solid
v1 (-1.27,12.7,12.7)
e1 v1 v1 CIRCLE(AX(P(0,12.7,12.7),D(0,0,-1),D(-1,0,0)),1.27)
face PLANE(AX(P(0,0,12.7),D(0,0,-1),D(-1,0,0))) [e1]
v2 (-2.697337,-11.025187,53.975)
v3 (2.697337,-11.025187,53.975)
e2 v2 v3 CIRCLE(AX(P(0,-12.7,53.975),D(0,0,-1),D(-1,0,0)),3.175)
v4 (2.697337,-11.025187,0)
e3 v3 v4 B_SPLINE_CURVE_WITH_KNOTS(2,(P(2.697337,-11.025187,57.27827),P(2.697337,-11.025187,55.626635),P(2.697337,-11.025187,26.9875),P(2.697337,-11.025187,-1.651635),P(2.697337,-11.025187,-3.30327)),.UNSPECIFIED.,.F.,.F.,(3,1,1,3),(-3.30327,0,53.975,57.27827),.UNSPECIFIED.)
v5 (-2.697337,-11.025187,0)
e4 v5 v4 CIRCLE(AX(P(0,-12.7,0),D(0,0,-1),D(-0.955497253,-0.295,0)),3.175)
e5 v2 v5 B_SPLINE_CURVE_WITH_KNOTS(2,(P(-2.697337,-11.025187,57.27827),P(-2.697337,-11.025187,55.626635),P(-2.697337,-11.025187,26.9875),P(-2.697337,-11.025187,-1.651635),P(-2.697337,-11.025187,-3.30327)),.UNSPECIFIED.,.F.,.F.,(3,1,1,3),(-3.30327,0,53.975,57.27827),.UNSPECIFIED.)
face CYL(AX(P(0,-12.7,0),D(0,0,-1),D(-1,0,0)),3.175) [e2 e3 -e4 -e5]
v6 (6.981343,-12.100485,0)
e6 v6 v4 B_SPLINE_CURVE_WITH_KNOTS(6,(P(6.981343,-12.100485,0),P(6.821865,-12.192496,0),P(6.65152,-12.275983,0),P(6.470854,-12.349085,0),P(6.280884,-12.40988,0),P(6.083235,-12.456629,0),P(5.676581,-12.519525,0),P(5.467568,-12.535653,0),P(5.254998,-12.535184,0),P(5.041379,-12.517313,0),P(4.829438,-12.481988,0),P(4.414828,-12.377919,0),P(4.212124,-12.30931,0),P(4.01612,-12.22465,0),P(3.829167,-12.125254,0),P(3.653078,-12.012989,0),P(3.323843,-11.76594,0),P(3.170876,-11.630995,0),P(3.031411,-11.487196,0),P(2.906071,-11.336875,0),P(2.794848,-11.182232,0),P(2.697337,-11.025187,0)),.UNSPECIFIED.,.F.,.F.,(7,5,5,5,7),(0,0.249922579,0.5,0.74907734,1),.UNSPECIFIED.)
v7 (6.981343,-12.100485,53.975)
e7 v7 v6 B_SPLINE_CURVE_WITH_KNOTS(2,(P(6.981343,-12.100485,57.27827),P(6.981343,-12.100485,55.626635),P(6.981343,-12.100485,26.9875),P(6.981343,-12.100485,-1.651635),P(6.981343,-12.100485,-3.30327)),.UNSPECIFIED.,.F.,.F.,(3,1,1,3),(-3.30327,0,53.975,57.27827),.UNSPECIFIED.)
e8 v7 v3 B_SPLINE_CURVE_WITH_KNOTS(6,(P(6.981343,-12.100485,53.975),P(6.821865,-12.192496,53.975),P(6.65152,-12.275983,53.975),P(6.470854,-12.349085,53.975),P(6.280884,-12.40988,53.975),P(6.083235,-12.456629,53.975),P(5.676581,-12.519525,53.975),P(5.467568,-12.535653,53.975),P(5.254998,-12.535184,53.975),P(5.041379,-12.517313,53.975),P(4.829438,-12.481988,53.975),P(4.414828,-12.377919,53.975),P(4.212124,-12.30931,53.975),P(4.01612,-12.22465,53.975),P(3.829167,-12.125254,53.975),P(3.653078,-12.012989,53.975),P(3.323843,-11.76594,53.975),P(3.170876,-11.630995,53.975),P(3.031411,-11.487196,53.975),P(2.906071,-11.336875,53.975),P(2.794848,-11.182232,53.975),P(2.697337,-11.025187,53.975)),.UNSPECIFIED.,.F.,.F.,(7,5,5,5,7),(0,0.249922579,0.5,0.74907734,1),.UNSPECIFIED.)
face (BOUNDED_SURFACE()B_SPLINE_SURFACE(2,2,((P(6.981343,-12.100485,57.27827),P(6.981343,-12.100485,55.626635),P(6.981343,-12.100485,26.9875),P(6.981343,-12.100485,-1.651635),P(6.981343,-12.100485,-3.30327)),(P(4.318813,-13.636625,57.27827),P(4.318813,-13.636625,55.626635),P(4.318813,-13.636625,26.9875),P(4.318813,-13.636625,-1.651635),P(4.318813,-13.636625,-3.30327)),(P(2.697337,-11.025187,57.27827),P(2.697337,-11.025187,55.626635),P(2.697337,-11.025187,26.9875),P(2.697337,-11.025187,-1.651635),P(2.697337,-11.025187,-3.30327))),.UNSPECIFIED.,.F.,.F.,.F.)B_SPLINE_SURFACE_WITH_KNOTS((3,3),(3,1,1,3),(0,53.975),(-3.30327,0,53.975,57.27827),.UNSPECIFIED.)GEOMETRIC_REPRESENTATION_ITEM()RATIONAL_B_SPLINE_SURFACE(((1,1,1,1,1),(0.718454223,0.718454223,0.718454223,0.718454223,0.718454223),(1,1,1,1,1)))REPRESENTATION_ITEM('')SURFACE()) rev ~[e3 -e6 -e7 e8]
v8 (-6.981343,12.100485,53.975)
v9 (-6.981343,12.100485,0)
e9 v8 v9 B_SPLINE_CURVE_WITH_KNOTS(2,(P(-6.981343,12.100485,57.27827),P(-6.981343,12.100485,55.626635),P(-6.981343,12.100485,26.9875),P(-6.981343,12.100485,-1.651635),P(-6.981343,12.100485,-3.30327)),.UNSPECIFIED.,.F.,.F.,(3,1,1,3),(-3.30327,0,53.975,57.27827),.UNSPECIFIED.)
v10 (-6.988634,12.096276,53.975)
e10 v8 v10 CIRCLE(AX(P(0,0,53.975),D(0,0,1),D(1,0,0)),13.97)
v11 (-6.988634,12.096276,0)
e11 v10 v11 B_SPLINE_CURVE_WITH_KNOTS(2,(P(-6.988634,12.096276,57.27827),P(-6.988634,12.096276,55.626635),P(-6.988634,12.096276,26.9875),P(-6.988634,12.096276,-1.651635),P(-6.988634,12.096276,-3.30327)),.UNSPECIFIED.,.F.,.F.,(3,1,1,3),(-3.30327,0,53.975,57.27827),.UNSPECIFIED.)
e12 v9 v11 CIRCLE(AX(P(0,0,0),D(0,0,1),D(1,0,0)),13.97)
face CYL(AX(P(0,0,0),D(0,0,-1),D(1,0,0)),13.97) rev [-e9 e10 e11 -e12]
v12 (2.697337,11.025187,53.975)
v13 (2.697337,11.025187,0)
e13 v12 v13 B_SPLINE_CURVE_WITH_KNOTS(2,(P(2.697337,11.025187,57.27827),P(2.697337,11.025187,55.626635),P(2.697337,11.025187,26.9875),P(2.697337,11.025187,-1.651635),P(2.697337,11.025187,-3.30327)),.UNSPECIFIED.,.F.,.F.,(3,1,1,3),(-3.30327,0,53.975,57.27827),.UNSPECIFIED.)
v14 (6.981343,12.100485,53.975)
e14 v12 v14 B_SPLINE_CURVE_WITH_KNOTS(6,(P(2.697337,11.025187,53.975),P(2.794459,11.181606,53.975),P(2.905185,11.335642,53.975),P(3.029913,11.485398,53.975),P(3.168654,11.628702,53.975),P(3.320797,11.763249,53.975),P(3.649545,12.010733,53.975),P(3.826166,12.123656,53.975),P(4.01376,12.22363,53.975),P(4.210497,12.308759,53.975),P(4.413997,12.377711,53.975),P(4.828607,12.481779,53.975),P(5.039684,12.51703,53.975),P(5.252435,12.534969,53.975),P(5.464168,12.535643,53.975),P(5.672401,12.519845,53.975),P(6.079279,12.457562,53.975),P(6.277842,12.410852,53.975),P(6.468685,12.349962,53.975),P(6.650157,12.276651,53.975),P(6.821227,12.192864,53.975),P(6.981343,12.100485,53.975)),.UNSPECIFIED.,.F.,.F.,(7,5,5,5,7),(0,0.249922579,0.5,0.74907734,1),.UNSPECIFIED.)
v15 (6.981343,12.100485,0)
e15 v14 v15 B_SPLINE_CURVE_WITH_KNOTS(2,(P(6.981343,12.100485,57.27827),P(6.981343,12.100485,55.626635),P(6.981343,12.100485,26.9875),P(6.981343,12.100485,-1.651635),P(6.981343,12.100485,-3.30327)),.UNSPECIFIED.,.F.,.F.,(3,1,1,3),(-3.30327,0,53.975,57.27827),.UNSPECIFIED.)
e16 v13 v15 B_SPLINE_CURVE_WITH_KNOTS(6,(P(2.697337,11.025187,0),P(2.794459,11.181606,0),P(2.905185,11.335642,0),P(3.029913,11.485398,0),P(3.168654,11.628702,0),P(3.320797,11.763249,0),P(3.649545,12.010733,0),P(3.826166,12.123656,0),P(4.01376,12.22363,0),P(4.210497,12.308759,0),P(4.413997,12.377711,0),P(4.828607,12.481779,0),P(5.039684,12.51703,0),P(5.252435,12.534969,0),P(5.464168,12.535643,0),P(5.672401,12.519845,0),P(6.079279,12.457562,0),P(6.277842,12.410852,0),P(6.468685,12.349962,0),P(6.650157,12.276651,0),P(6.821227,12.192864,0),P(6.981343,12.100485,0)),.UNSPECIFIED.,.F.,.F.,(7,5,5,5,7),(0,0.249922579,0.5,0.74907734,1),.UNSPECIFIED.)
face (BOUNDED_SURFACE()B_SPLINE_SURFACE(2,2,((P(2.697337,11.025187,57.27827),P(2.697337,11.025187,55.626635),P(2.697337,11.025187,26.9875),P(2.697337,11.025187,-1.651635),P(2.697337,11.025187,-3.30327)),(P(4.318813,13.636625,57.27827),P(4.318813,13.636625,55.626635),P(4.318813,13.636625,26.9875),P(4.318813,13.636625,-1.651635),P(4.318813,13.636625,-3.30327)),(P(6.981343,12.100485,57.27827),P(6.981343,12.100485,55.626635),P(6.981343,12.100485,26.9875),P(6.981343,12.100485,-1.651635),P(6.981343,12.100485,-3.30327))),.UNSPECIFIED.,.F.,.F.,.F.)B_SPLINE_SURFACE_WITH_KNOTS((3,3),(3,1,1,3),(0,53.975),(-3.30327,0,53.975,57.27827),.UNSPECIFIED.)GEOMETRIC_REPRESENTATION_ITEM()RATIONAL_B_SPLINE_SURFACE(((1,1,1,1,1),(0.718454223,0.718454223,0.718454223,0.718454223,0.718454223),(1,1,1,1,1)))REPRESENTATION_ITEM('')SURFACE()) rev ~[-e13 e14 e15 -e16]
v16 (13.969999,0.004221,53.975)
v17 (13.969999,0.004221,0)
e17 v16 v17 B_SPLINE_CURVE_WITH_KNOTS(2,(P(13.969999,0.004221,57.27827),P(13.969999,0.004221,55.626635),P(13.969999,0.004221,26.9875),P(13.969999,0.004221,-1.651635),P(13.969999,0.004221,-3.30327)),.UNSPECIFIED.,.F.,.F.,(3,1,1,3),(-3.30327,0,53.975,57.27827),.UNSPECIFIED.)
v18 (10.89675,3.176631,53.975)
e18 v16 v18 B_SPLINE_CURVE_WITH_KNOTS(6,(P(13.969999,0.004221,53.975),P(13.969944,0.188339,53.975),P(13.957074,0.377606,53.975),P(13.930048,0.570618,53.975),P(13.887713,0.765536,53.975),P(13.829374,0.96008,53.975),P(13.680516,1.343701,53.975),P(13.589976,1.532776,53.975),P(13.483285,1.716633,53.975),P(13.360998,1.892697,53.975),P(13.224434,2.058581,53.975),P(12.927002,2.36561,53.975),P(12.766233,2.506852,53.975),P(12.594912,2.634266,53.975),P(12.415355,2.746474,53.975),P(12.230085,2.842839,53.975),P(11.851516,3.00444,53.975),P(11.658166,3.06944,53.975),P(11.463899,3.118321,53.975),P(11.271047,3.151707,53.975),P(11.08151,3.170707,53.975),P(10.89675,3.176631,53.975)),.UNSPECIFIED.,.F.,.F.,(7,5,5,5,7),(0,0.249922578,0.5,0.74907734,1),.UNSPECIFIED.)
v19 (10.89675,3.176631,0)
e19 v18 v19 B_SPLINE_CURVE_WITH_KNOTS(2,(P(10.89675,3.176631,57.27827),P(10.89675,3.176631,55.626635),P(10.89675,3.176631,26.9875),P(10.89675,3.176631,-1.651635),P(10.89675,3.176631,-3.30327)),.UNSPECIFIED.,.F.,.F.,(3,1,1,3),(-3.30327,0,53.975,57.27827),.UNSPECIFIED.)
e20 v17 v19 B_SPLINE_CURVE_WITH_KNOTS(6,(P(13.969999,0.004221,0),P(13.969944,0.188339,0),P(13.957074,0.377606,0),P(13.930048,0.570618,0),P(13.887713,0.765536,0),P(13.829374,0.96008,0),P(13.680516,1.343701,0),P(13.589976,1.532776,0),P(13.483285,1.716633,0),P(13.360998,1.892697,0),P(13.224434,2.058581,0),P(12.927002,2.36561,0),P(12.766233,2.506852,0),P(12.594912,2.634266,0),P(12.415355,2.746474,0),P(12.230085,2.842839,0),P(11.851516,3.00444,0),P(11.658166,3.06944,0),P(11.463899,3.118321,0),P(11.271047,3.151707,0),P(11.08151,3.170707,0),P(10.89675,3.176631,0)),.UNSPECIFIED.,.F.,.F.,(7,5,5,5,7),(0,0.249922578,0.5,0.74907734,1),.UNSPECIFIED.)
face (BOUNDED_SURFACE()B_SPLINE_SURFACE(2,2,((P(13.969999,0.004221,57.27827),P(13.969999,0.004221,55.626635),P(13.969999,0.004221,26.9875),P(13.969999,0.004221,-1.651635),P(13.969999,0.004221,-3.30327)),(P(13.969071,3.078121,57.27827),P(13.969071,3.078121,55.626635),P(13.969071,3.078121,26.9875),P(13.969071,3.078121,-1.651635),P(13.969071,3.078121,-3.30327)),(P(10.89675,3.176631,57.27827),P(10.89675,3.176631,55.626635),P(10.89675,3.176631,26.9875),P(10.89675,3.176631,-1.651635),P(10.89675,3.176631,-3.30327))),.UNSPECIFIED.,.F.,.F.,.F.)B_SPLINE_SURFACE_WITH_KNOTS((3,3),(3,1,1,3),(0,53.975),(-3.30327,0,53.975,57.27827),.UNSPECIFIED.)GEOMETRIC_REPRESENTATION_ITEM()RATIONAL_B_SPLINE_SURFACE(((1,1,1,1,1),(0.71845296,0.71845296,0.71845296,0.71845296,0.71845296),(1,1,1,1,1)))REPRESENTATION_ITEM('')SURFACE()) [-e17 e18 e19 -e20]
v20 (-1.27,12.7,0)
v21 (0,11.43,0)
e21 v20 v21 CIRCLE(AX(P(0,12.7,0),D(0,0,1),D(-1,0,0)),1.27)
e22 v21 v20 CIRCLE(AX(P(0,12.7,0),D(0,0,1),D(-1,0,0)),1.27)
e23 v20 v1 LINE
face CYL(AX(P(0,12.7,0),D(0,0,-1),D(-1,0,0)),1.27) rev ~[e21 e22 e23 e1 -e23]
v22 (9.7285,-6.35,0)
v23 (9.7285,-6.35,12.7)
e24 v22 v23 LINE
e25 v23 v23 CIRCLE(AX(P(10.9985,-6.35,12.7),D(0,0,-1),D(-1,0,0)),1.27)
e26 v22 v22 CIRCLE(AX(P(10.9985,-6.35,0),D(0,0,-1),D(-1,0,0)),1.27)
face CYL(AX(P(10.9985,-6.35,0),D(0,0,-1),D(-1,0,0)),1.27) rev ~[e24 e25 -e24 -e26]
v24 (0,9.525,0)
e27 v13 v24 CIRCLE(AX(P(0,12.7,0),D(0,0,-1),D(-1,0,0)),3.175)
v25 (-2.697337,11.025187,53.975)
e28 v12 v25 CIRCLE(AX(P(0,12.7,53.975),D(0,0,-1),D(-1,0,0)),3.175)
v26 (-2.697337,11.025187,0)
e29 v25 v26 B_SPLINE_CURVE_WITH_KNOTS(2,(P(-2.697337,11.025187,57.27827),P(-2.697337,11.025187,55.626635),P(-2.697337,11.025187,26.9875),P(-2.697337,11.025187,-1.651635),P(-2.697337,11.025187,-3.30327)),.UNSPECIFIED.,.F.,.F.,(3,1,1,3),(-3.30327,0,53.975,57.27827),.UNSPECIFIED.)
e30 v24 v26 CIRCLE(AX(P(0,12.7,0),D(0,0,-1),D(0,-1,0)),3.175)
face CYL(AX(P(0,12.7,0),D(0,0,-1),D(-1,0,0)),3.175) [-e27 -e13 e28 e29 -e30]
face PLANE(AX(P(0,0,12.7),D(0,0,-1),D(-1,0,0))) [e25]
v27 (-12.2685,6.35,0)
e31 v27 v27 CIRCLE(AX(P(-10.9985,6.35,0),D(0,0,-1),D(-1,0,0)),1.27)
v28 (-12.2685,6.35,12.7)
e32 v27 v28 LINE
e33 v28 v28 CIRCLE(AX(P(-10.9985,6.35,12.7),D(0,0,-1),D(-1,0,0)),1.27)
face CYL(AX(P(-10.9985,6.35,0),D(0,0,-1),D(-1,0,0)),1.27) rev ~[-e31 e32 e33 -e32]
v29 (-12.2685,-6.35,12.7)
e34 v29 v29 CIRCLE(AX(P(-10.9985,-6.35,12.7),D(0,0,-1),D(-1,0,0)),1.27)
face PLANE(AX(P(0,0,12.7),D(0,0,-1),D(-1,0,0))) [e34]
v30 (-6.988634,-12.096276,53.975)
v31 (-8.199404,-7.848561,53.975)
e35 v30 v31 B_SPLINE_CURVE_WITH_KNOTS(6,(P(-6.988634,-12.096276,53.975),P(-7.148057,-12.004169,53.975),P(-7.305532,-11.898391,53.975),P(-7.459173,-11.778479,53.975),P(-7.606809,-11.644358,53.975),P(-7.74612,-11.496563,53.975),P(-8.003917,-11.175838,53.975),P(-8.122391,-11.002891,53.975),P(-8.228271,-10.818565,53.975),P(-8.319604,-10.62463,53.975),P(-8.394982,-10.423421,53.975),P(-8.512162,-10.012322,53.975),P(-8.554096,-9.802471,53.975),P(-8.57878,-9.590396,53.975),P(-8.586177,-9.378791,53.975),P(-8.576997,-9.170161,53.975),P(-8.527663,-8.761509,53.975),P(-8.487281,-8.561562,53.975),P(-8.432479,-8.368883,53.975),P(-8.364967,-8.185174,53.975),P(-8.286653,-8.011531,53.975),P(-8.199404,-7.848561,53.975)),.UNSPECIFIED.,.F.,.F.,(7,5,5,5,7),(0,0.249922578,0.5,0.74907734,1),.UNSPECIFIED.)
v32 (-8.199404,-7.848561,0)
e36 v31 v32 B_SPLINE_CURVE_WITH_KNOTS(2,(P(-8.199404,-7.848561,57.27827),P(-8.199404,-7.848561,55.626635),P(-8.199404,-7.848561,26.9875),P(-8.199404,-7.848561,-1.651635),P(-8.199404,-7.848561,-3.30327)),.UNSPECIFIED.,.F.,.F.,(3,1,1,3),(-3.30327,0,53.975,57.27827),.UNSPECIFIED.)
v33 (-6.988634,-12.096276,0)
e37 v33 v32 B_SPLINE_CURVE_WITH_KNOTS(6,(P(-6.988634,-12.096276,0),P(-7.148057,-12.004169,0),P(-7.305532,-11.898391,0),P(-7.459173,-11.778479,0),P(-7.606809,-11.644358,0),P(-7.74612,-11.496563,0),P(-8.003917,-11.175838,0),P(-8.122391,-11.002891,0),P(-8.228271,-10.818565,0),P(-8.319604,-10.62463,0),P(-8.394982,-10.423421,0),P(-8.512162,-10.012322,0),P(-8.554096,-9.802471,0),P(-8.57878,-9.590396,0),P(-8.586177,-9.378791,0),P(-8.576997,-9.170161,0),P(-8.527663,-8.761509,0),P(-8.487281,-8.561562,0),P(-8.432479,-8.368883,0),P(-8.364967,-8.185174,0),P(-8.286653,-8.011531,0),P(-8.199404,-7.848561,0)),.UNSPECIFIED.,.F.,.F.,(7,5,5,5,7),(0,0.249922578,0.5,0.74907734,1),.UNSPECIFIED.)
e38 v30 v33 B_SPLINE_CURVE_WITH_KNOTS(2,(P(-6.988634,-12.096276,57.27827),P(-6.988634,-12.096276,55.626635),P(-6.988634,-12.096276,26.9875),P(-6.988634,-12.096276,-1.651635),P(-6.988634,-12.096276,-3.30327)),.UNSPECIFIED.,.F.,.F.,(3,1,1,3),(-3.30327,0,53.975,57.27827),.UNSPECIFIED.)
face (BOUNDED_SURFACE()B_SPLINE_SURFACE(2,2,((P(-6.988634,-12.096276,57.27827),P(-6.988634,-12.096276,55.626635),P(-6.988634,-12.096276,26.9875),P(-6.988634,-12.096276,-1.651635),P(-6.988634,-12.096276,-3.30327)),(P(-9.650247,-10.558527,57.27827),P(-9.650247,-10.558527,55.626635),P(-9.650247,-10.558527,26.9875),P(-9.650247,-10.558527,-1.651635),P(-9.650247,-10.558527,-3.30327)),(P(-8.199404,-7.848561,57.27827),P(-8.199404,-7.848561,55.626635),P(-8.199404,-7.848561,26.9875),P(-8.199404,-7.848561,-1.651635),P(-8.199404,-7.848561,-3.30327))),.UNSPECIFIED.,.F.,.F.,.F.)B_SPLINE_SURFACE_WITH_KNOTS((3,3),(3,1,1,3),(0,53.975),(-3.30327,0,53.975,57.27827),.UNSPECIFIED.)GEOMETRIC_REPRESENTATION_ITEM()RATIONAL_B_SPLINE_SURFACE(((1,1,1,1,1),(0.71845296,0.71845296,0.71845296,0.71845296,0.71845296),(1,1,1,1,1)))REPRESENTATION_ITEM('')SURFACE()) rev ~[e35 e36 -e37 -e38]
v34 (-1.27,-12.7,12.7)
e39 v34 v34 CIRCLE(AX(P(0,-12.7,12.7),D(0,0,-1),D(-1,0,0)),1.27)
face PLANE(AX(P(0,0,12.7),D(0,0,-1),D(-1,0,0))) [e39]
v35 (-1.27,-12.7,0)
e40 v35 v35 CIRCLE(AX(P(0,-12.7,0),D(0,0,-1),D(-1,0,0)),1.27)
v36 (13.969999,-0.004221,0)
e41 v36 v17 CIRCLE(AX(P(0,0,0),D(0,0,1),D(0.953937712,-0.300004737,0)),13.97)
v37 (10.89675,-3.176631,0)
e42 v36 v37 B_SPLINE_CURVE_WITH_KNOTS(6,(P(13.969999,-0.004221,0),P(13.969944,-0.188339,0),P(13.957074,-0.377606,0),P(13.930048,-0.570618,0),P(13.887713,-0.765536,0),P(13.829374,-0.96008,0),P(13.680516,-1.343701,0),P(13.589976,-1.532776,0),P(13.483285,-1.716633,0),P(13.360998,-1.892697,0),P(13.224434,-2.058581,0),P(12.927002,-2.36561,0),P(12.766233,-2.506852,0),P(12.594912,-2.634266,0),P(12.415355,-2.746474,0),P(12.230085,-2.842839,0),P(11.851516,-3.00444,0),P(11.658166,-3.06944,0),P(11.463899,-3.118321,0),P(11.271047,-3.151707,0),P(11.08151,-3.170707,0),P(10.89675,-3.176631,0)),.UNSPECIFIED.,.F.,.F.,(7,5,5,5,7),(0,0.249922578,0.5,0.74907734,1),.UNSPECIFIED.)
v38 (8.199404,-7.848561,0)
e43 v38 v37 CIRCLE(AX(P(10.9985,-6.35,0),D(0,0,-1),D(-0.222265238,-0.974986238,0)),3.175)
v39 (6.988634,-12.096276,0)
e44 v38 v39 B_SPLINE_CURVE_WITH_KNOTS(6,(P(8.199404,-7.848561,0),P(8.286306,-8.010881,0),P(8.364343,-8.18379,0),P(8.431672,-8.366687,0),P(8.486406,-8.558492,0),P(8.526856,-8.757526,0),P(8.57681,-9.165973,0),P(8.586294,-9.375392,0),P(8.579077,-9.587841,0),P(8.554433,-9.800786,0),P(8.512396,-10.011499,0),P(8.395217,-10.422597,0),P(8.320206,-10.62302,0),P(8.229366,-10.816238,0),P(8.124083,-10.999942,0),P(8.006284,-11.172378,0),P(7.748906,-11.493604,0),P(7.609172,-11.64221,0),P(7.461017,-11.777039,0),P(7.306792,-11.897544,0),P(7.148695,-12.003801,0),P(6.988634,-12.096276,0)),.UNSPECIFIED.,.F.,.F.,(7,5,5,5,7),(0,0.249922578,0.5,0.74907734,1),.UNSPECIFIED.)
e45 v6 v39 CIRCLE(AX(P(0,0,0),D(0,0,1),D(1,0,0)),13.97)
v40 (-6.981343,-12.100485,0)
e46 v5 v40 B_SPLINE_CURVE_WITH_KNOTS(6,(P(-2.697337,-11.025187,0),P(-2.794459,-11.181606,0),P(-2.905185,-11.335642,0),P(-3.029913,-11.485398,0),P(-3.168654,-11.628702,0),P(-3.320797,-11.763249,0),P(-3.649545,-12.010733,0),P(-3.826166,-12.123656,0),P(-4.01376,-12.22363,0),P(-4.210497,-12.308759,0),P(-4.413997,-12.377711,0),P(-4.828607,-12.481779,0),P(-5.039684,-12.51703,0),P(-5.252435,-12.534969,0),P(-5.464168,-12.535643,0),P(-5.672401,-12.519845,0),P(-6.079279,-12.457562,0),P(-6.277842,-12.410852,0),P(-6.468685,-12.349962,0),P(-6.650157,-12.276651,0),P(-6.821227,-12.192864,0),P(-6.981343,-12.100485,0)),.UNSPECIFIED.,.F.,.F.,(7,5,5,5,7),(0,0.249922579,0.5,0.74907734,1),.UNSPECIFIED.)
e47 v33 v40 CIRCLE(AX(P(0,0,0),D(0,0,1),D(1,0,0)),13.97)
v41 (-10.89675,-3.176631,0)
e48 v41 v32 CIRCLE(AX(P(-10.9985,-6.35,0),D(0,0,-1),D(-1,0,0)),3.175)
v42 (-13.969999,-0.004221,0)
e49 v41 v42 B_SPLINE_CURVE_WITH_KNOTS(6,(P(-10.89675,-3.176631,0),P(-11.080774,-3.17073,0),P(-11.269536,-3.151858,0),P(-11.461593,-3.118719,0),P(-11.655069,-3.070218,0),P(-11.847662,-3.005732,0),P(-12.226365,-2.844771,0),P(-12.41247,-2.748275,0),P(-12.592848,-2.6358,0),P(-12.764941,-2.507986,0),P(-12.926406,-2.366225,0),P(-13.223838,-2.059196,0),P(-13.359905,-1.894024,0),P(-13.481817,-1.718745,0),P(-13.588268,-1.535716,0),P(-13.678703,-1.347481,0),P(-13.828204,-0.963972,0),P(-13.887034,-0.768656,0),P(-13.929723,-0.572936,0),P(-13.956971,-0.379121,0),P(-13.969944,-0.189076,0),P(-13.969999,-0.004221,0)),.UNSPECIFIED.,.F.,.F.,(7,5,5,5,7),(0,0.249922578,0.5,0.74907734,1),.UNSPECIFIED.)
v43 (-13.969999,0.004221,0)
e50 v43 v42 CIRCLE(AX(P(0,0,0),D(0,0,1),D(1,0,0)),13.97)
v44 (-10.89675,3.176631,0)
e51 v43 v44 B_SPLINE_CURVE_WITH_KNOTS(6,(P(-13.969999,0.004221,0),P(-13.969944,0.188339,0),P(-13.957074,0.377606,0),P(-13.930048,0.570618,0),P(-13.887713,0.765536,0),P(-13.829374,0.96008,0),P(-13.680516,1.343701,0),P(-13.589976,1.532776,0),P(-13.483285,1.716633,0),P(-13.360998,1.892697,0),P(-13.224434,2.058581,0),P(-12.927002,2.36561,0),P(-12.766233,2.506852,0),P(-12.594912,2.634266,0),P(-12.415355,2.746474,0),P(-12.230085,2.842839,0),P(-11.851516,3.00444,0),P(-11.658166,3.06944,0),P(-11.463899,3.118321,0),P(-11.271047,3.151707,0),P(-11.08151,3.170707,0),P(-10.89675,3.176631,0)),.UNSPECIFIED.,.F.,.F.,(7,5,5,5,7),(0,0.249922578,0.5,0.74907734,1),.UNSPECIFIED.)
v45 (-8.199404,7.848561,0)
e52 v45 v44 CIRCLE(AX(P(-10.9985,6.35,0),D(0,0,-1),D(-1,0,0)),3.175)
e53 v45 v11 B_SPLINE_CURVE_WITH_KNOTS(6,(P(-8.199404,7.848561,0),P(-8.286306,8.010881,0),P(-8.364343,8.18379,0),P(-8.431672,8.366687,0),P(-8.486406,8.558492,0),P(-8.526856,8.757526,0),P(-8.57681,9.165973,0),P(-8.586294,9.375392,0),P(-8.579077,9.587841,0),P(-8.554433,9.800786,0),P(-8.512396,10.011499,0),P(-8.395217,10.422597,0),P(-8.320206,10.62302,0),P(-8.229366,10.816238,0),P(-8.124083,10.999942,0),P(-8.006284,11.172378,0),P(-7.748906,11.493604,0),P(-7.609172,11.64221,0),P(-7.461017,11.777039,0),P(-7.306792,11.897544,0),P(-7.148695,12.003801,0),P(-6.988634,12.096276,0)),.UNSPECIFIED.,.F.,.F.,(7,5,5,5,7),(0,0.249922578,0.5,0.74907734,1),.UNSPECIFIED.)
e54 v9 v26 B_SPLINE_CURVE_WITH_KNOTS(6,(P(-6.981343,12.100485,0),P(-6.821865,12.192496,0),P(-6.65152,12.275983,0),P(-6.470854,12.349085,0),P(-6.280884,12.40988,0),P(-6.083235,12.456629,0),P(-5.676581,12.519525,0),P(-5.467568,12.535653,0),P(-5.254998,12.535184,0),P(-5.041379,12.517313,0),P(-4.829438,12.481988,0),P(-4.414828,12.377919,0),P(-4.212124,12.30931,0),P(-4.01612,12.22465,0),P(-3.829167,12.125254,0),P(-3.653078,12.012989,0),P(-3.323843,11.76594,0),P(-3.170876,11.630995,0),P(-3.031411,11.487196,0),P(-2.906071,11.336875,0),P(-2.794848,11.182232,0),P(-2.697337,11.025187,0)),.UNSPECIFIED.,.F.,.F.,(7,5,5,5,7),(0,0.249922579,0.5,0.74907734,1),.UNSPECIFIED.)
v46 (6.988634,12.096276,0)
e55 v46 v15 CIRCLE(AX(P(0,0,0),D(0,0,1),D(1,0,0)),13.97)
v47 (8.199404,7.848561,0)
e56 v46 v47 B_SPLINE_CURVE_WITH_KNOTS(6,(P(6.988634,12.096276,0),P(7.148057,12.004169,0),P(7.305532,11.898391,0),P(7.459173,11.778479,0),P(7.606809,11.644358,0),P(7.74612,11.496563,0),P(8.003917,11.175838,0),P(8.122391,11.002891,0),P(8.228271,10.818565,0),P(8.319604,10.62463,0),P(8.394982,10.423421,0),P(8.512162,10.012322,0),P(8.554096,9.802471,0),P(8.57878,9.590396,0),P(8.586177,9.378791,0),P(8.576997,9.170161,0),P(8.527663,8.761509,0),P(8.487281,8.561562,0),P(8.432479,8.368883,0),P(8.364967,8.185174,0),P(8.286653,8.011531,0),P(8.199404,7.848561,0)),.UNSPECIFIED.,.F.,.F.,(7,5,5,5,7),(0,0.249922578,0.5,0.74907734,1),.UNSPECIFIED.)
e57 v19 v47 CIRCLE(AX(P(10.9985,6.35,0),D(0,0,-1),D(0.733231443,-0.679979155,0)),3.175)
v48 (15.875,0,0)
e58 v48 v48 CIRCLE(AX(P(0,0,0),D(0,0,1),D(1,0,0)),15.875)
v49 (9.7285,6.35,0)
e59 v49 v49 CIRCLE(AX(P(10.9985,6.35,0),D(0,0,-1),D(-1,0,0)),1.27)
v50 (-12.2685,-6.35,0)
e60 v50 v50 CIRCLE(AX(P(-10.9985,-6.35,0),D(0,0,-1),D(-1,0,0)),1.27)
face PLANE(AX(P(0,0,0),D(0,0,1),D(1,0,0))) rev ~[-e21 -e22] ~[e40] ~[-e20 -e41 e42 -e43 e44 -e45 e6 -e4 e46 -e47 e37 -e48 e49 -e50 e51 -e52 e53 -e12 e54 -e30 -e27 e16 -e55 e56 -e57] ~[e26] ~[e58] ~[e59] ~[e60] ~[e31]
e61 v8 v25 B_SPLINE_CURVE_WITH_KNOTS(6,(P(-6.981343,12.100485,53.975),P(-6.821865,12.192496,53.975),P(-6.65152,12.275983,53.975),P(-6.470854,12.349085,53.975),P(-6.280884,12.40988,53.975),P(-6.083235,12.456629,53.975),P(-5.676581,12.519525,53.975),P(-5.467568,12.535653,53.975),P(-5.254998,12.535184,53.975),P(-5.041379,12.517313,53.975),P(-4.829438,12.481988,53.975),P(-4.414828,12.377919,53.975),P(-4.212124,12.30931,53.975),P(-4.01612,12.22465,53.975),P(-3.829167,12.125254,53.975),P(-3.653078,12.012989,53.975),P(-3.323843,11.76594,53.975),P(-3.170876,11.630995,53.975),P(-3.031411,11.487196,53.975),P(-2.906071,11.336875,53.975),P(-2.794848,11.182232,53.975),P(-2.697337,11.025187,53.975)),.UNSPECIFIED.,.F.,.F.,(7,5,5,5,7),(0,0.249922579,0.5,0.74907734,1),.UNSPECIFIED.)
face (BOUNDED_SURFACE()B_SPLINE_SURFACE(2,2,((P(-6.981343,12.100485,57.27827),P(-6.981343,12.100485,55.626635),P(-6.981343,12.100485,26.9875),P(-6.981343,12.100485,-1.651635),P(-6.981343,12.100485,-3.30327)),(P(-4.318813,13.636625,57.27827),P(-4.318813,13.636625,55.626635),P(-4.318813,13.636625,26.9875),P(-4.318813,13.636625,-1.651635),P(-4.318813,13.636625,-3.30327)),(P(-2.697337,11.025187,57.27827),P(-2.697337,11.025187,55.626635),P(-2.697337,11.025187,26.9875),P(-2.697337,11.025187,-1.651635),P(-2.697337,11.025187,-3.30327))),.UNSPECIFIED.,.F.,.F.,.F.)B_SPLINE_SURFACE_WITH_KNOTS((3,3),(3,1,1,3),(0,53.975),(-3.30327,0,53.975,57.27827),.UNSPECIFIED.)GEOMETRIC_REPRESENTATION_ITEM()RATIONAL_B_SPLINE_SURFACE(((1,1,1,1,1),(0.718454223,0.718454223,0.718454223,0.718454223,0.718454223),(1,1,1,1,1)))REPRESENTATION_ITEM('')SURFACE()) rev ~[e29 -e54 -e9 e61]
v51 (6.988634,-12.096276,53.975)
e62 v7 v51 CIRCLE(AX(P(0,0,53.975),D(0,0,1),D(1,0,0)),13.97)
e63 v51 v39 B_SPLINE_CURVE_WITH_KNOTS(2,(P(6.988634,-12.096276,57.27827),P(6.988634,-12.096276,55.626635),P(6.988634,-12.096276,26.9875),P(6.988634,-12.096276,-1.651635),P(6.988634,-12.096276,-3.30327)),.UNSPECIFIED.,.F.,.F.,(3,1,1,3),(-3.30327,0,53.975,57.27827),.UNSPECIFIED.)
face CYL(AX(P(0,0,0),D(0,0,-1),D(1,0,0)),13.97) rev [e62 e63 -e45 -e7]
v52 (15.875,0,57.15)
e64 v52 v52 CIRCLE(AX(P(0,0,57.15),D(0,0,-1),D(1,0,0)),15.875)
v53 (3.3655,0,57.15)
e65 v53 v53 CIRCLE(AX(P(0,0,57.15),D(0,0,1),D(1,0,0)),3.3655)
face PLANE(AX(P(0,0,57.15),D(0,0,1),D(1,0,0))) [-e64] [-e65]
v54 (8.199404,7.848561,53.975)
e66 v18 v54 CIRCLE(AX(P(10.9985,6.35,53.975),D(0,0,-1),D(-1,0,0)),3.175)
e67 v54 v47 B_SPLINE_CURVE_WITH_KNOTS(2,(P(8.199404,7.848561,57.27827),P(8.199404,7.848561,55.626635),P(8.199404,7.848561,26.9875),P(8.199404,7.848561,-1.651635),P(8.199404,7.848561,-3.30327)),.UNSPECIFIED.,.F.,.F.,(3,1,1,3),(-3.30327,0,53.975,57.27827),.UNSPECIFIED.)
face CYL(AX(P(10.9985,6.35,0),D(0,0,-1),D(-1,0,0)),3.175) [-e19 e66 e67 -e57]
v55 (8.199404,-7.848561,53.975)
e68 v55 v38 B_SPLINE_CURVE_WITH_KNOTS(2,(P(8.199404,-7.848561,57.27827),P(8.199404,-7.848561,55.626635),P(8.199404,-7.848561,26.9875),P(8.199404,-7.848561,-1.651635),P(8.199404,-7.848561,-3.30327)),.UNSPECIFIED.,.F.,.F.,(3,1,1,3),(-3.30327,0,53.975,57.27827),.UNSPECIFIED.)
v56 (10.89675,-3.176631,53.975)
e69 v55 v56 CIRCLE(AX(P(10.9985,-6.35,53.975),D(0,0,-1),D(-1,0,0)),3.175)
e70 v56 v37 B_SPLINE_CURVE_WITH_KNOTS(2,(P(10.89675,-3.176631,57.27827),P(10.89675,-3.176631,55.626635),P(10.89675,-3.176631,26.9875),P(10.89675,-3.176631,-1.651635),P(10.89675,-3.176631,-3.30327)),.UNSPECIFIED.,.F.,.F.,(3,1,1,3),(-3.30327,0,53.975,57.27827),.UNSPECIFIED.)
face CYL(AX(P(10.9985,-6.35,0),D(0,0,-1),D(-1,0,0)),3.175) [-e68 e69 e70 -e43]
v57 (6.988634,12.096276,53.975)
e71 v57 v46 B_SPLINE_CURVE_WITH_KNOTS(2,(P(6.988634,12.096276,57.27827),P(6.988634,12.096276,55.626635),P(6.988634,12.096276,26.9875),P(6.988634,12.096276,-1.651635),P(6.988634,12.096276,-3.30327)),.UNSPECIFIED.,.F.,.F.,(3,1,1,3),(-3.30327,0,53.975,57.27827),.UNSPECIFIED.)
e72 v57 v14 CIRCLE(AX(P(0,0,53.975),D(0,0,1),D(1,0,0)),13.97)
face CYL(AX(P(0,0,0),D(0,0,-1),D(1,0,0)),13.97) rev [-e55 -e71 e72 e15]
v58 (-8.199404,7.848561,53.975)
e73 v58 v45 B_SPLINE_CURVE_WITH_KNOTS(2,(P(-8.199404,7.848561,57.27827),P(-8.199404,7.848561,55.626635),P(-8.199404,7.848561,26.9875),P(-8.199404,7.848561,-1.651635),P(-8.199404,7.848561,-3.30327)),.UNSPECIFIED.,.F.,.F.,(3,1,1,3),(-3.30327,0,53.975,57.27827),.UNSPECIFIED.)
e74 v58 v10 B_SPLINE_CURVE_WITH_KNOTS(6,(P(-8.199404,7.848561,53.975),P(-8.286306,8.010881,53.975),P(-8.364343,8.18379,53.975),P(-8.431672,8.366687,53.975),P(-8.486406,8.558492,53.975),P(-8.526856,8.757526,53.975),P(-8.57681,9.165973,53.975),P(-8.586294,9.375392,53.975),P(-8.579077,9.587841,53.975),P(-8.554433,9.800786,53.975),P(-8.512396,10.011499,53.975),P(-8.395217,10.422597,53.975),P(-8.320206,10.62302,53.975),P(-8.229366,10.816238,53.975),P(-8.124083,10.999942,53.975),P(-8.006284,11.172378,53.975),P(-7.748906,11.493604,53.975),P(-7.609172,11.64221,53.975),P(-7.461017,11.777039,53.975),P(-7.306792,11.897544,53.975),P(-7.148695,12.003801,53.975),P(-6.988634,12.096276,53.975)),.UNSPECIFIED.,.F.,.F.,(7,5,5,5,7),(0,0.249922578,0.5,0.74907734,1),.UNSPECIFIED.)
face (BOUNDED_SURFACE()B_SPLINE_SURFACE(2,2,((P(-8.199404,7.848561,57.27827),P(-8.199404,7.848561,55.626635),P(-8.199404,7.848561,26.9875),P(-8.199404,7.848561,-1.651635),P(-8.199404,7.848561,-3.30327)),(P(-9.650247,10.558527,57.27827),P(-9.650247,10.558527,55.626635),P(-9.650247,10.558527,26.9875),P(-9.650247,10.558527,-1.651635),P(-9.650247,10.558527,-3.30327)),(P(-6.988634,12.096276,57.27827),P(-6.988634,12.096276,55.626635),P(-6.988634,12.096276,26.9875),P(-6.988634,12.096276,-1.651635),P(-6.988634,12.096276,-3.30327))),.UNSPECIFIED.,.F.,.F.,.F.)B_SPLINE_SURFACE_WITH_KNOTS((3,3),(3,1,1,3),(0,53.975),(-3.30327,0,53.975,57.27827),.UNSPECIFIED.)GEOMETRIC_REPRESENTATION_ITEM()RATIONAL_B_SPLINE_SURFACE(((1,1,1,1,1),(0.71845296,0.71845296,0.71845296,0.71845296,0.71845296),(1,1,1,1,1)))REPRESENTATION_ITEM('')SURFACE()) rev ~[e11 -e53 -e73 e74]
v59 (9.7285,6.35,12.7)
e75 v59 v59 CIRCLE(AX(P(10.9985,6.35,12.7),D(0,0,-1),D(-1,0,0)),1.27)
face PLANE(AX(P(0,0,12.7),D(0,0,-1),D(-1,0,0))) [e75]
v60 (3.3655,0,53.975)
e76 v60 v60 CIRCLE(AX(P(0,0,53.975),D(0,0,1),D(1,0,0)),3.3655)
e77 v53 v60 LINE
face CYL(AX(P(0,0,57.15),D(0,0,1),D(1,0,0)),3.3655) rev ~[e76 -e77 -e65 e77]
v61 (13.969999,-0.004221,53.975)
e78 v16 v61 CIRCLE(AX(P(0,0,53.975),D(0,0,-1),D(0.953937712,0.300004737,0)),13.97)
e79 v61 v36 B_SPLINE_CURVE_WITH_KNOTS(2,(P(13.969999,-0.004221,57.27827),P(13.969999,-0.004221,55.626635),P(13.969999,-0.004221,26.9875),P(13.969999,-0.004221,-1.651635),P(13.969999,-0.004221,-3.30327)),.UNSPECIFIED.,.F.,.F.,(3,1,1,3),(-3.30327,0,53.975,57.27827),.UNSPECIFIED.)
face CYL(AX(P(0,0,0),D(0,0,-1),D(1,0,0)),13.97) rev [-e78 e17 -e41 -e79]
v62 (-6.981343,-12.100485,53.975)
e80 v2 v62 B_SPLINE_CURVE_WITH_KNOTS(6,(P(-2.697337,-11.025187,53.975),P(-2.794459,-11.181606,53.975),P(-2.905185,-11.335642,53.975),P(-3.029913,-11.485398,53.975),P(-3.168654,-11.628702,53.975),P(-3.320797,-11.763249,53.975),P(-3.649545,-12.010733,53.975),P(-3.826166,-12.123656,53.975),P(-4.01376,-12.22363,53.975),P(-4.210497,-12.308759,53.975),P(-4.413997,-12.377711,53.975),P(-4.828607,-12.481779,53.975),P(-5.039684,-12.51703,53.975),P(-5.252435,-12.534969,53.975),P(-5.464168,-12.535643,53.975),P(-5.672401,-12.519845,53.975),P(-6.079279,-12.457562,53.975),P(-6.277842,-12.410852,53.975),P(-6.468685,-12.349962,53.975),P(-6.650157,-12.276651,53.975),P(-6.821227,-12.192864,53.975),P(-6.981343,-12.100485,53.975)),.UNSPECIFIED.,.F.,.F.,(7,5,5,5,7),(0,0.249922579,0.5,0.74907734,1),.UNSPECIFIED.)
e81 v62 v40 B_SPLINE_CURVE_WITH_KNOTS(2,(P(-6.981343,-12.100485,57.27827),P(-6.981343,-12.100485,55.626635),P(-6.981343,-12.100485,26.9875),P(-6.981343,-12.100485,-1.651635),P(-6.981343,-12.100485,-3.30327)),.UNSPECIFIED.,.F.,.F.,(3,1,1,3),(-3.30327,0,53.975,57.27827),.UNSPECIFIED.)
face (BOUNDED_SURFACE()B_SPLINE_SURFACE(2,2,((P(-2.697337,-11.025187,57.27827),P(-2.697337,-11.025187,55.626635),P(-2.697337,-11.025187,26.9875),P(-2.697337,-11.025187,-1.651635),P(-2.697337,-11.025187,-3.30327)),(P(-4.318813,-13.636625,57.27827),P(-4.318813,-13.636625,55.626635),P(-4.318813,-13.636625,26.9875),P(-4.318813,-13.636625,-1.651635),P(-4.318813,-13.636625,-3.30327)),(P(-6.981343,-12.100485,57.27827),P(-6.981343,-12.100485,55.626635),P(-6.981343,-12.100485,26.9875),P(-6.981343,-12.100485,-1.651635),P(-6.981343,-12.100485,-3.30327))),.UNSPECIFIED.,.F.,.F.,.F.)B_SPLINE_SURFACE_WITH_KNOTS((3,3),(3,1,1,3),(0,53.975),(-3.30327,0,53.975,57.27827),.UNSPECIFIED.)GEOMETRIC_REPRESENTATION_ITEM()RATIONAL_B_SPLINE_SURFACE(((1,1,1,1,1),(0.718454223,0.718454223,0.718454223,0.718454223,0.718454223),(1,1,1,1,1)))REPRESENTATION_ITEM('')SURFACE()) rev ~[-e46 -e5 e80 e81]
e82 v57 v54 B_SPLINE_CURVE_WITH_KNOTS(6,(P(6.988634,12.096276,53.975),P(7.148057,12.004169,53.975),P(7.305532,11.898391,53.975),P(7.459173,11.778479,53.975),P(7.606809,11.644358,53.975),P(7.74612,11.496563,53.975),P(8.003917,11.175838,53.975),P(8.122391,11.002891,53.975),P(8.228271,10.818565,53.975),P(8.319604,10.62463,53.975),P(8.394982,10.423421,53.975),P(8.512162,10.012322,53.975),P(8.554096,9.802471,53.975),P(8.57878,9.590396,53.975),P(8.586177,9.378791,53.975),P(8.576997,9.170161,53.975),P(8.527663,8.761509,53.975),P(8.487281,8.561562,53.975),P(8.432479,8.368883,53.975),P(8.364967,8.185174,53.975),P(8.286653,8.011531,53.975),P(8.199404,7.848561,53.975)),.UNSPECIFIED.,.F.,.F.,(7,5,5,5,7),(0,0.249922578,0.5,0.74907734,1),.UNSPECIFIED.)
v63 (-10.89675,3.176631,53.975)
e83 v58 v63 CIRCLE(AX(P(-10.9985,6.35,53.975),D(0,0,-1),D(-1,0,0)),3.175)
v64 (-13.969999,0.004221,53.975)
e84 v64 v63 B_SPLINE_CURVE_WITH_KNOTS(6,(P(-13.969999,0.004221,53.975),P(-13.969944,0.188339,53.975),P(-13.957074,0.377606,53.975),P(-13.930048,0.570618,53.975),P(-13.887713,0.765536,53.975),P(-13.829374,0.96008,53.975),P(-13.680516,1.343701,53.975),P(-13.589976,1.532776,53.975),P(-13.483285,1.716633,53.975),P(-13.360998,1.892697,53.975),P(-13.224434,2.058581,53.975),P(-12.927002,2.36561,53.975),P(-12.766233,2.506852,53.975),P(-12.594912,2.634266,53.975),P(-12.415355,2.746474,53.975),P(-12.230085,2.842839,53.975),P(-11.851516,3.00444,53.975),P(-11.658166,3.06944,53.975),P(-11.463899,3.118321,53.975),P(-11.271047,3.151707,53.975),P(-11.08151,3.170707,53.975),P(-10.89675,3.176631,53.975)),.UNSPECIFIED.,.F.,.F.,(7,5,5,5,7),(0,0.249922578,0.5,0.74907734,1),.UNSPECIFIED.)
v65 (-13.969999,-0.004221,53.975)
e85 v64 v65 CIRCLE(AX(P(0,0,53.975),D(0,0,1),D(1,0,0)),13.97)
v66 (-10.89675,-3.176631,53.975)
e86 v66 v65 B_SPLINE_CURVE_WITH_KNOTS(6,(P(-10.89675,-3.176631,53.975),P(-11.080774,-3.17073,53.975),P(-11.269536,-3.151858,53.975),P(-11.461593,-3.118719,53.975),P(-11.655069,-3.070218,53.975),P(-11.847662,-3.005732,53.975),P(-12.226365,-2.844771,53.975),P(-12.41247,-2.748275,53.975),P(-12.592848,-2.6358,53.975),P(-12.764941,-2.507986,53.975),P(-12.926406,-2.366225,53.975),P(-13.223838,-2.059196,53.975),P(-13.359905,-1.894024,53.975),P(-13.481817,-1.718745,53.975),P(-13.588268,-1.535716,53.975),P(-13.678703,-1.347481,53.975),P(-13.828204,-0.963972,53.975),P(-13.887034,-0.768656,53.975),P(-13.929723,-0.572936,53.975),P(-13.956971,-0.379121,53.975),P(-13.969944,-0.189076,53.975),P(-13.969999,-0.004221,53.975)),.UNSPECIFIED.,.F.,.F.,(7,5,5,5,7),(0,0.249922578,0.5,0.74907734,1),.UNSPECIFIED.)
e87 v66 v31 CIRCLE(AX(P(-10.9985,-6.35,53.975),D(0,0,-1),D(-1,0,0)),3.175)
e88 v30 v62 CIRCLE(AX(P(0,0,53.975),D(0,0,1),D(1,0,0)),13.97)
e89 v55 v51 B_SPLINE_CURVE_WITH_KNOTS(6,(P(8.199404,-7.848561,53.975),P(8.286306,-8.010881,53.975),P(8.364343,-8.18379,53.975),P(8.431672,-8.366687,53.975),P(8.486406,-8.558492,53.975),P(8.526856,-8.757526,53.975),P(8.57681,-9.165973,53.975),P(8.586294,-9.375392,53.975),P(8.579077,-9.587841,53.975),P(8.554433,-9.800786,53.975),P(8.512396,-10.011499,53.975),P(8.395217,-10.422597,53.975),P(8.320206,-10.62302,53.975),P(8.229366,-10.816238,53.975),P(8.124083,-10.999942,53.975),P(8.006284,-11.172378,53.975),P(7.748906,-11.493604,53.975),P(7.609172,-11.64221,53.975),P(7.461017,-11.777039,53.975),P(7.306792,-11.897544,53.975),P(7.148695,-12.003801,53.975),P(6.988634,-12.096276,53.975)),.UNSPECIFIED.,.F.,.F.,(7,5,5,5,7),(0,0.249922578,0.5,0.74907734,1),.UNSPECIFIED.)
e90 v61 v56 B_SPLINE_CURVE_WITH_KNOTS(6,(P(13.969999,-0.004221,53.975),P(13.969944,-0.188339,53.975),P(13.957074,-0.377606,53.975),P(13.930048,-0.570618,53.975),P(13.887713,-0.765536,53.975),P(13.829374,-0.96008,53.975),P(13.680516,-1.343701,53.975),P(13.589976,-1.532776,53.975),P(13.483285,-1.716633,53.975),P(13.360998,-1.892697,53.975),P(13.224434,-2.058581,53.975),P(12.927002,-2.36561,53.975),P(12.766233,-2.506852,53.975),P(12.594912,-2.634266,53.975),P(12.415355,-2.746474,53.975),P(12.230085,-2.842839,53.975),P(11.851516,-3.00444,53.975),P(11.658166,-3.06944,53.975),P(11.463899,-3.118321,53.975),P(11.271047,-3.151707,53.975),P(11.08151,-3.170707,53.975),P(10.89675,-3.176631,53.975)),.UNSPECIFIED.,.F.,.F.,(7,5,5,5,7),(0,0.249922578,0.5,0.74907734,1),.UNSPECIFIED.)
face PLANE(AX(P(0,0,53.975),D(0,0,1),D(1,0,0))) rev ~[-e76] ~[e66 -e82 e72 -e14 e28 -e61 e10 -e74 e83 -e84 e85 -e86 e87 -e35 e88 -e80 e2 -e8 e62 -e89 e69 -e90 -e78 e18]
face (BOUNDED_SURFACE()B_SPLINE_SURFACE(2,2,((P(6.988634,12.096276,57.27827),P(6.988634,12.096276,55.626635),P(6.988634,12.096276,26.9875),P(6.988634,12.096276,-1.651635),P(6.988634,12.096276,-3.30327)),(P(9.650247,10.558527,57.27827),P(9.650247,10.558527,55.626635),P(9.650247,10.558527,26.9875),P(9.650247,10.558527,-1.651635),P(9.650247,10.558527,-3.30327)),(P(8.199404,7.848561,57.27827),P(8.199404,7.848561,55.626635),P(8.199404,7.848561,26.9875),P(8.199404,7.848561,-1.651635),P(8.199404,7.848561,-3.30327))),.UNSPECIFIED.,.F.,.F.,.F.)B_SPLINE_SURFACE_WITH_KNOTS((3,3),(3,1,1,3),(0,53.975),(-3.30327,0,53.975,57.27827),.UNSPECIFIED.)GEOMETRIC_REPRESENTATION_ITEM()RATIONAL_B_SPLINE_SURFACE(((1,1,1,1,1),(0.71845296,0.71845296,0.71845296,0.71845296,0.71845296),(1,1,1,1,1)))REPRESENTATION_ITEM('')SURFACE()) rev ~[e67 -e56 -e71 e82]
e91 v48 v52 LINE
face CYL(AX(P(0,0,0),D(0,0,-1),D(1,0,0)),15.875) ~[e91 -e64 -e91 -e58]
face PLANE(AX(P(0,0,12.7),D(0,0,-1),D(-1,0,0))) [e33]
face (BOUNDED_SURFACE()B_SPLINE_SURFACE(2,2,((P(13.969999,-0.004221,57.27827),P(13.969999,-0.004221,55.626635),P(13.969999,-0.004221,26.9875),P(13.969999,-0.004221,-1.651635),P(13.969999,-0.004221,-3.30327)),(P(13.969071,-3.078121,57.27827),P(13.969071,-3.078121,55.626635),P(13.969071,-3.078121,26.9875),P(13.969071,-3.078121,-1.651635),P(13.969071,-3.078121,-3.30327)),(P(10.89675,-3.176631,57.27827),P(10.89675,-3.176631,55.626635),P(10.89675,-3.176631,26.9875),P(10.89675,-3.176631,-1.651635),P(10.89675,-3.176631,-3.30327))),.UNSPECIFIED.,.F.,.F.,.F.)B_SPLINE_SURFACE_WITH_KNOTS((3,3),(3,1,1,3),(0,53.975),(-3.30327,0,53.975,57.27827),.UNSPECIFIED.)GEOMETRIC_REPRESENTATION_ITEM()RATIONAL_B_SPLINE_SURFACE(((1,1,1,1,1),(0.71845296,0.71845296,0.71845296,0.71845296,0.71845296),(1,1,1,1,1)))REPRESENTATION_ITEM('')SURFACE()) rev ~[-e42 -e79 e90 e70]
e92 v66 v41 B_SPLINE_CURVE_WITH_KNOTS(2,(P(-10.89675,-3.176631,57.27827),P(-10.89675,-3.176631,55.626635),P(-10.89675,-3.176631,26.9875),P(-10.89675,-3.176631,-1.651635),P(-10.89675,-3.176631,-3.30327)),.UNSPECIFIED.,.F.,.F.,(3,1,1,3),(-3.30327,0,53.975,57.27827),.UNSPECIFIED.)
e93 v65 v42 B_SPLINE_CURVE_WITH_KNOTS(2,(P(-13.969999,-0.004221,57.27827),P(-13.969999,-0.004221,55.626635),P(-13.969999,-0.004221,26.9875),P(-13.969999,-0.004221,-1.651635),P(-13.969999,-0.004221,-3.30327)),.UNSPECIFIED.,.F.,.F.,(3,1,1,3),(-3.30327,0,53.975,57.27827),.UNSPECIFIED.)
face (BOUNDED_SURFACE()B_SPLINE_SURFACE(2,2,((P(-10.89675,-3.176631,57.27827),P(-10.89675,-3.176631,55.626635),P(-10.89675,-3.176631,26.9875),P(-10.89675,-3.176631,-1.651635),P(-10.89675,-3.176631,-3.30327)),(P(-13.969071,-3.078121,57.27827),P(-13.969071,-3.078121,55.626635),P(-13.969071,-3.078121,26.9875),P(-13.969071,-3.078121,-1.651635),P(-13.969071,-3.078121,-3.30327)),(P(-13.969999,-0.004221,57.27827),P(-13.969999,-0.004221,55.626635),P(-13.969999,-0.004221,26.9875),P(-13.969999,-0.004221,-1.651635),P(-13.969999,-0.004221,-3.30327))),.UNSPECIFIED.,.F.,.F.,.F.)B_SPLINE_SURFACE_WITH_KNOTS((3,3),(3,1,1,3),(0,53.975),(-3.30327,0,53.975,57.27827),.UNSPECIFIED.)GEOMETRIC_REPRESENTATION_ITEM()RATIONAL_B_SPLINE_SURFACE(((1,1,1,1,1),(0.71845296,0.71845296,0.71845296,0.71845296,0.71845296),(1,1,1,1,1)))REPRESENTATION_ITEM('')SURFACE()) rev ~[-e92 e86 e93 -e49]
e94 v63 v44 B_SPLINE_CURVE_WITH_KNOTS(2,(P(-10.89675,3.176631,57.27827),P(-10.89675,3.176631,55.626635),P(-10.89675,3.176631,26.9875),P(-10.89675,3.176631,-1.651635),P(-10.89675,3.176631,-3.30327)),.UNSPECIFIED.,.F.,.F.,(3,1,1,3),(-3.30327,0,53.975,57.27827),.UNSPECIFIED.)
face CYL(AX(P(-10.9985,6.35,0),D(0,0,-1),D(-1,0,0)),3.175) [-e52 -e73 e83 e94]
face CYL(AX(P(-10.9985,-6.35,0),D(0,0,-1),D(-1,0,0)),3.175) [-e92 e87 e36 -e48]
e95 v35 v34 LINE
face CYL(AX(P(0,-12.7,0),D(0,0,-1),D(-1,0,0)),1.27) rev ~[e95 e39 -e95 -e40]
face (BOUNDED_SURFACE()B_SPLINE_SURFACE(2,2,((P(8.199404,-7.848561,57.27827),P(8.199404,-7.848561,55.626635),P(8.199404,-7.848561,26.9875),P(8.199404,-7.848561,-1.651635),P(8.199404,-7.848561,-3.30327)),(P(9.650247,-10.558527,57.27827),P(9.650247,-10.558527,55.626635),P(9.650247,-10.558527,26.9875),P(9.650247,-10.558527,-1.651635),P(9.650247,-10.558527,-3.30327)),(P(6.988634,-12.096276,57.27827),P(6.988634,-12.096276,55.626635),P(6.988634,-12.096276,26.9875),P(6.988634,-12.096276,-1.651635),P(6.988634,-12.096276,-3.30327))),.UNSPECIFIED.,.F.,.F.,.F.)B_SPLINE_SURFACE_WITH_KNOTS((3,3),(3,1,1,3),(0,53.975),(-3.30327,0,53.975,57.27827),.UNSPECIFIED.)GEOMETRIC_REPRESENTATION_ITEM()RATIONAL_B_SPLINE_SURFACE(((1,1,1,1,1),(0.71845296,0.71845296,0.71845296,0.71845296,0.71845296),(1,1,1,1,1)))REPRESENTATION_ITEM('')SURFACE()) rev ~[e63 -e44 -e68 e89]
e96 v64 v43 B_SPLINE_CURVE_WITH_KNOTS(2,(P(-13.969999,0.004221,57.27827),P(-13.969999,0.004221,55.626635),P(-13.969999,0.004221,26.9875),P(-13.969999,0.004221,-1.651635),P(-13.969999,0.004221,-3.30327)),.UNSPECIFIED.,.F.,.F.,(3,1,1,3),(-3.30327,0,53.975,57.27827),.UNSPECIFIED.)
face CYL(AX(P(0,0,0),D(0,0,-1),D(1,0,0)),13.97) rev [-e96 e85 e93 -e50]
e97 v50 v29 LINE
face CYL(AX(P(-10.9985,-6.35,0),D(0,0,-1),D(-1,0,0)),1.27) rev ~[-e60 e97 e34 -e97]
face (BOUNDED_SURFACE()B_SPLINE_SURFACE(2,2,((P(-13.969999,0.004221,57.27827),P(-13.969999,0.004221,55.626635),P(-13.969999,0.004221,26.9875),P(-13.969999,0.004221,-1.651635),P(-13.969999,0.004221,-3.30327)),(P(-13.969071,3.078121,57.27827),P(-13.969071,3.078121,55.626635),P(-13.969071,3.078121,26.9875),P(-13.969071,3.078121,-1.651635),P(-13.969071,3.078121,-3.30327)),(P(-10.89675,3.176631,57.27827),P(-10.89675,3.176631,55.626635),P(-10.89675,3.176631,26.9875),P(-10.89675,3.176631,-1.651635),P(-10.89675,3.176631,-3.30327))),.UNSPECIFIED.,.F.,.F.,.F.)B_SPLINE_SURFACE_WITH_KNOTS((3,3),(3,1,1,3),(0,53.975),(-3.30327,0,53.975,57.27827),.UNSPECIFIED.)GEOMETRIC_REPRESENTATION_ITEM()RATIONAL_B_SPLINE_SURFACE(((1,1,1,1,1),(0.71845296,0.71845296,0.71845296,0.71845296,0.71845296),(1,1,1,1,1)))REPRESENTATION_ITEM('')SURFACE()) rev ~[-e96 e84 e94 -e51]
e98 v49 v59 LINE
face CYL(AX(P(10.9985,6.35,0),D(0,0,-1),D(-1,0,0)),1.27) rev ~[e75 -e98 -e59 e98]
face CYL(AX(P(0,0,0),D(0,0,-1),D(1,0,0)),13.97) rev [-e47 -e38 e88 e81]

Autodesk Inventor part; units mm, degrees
ref_plane "YZ Plane" through (0, 0, 0) normal (1, 0, 0) x (0, 1, 0)
ref_plane "XZ Plane" through (0, 0, 0) normal (0, 1, 0) x (-1, 0, 0)
ref_plane "XY Plane" through (0, 0, 0) normal (0, 0, 1) x (1, 0, 0)
sketch "Sketch1" plane through (0, 0, 0) normal (0, 0, 1) x (1, 0, 0)
  circle A0 centre (0, 0) radius 15.875
  circle A1 centre (0, 0) radius 13.97
  dimension "d0" = 31.75
  dimension "d1" = 27.94
extrude "Extrusion1" add sketch "Sketch1" along normal blind 57.15
sketch "Sketch2" plane through (0, 0, 0) normal (0, 0, -1) x (-1, 0, 0)
  line L0 (0, 0) -> (0, 12.7)
  circle A0 centre (0, 12.7) radius 1.27
  circle A1 centre (0, 12.7) radius 3.175
  circle A2 centre (-10.9985, 6.35) radius 3.175
  circle A3 centre (-10.9985, 6.35) radius 1.27
  circle A4 centre (-10.9985, -6.35) radius 3.175
  circle A5 centre (-10.9985, -6.35) radius 1.27
  circle A6 centre (0, -12.7) radius 3.175
  circle A7 centre (0, -12.7) radius 1.27
  circle A8 centre (10.9985, -6.35) radius 3.175
  circle A9 centre (10.9985, -6.35) radius 1.27
  circle A10 centre (10.9985, 6.35) radius 3.175
  circle A11 centre (10.9985, 6.35) radius 1.27
  dimension "d4" = 12.7
  dimension "d5" = 2.54
  dimension "d6" = 6.35
  dimension "d9" = 360
extrude "Extrusion2" add sketch "Sketch2" against normal up to surface (57.15 mm away) contours A0 | A1 | A2 | A3 | A4 | A5 | A6 | A7 | A8 | A9 | A10 | A11
extrude "Extrusion3" cut sketch "Sketch2" against normal blind 12.7 contours A0 | A3 | A5 | A7 | A9 | A11
sketch "Sketch3" plane through (0, 0, 57.15) normal (0, 0, 1) x (1, 0, 0)
  circle A0 centre (0, 0) radius 3.3655
  circle A1 centre (0, 0) radius 13.97 projected
  dimension "d15" = 6.731
extrude "Extrusion4" add sketch "Sketch3" against normal blind 3.175
fillet "Fillet1" radius 3.175 12 edges at (-3.0337, 13.6366, 26.9875) (3.0337, 13.6366, 26.9875) (13.3265, 4.191, 26.9875) (10.2928, 9.4456, 26.9875) (13.3265, -4.191, 26.9875) (10.2928, -9.4456, 26.9875) (3.0337, -13.6366, 26.9875) (-3.0337, -13.6366, 26.9875) (-10.2928, -9.4456, 26.9875) (-13.3265, -4.191, 26.9875) (-13.3265, 4.191, 26.9875) (-10.2928, 9.4456, 26.9875)
properties part number "FixedCylinderWireStorage" material "ABS Plastic"
